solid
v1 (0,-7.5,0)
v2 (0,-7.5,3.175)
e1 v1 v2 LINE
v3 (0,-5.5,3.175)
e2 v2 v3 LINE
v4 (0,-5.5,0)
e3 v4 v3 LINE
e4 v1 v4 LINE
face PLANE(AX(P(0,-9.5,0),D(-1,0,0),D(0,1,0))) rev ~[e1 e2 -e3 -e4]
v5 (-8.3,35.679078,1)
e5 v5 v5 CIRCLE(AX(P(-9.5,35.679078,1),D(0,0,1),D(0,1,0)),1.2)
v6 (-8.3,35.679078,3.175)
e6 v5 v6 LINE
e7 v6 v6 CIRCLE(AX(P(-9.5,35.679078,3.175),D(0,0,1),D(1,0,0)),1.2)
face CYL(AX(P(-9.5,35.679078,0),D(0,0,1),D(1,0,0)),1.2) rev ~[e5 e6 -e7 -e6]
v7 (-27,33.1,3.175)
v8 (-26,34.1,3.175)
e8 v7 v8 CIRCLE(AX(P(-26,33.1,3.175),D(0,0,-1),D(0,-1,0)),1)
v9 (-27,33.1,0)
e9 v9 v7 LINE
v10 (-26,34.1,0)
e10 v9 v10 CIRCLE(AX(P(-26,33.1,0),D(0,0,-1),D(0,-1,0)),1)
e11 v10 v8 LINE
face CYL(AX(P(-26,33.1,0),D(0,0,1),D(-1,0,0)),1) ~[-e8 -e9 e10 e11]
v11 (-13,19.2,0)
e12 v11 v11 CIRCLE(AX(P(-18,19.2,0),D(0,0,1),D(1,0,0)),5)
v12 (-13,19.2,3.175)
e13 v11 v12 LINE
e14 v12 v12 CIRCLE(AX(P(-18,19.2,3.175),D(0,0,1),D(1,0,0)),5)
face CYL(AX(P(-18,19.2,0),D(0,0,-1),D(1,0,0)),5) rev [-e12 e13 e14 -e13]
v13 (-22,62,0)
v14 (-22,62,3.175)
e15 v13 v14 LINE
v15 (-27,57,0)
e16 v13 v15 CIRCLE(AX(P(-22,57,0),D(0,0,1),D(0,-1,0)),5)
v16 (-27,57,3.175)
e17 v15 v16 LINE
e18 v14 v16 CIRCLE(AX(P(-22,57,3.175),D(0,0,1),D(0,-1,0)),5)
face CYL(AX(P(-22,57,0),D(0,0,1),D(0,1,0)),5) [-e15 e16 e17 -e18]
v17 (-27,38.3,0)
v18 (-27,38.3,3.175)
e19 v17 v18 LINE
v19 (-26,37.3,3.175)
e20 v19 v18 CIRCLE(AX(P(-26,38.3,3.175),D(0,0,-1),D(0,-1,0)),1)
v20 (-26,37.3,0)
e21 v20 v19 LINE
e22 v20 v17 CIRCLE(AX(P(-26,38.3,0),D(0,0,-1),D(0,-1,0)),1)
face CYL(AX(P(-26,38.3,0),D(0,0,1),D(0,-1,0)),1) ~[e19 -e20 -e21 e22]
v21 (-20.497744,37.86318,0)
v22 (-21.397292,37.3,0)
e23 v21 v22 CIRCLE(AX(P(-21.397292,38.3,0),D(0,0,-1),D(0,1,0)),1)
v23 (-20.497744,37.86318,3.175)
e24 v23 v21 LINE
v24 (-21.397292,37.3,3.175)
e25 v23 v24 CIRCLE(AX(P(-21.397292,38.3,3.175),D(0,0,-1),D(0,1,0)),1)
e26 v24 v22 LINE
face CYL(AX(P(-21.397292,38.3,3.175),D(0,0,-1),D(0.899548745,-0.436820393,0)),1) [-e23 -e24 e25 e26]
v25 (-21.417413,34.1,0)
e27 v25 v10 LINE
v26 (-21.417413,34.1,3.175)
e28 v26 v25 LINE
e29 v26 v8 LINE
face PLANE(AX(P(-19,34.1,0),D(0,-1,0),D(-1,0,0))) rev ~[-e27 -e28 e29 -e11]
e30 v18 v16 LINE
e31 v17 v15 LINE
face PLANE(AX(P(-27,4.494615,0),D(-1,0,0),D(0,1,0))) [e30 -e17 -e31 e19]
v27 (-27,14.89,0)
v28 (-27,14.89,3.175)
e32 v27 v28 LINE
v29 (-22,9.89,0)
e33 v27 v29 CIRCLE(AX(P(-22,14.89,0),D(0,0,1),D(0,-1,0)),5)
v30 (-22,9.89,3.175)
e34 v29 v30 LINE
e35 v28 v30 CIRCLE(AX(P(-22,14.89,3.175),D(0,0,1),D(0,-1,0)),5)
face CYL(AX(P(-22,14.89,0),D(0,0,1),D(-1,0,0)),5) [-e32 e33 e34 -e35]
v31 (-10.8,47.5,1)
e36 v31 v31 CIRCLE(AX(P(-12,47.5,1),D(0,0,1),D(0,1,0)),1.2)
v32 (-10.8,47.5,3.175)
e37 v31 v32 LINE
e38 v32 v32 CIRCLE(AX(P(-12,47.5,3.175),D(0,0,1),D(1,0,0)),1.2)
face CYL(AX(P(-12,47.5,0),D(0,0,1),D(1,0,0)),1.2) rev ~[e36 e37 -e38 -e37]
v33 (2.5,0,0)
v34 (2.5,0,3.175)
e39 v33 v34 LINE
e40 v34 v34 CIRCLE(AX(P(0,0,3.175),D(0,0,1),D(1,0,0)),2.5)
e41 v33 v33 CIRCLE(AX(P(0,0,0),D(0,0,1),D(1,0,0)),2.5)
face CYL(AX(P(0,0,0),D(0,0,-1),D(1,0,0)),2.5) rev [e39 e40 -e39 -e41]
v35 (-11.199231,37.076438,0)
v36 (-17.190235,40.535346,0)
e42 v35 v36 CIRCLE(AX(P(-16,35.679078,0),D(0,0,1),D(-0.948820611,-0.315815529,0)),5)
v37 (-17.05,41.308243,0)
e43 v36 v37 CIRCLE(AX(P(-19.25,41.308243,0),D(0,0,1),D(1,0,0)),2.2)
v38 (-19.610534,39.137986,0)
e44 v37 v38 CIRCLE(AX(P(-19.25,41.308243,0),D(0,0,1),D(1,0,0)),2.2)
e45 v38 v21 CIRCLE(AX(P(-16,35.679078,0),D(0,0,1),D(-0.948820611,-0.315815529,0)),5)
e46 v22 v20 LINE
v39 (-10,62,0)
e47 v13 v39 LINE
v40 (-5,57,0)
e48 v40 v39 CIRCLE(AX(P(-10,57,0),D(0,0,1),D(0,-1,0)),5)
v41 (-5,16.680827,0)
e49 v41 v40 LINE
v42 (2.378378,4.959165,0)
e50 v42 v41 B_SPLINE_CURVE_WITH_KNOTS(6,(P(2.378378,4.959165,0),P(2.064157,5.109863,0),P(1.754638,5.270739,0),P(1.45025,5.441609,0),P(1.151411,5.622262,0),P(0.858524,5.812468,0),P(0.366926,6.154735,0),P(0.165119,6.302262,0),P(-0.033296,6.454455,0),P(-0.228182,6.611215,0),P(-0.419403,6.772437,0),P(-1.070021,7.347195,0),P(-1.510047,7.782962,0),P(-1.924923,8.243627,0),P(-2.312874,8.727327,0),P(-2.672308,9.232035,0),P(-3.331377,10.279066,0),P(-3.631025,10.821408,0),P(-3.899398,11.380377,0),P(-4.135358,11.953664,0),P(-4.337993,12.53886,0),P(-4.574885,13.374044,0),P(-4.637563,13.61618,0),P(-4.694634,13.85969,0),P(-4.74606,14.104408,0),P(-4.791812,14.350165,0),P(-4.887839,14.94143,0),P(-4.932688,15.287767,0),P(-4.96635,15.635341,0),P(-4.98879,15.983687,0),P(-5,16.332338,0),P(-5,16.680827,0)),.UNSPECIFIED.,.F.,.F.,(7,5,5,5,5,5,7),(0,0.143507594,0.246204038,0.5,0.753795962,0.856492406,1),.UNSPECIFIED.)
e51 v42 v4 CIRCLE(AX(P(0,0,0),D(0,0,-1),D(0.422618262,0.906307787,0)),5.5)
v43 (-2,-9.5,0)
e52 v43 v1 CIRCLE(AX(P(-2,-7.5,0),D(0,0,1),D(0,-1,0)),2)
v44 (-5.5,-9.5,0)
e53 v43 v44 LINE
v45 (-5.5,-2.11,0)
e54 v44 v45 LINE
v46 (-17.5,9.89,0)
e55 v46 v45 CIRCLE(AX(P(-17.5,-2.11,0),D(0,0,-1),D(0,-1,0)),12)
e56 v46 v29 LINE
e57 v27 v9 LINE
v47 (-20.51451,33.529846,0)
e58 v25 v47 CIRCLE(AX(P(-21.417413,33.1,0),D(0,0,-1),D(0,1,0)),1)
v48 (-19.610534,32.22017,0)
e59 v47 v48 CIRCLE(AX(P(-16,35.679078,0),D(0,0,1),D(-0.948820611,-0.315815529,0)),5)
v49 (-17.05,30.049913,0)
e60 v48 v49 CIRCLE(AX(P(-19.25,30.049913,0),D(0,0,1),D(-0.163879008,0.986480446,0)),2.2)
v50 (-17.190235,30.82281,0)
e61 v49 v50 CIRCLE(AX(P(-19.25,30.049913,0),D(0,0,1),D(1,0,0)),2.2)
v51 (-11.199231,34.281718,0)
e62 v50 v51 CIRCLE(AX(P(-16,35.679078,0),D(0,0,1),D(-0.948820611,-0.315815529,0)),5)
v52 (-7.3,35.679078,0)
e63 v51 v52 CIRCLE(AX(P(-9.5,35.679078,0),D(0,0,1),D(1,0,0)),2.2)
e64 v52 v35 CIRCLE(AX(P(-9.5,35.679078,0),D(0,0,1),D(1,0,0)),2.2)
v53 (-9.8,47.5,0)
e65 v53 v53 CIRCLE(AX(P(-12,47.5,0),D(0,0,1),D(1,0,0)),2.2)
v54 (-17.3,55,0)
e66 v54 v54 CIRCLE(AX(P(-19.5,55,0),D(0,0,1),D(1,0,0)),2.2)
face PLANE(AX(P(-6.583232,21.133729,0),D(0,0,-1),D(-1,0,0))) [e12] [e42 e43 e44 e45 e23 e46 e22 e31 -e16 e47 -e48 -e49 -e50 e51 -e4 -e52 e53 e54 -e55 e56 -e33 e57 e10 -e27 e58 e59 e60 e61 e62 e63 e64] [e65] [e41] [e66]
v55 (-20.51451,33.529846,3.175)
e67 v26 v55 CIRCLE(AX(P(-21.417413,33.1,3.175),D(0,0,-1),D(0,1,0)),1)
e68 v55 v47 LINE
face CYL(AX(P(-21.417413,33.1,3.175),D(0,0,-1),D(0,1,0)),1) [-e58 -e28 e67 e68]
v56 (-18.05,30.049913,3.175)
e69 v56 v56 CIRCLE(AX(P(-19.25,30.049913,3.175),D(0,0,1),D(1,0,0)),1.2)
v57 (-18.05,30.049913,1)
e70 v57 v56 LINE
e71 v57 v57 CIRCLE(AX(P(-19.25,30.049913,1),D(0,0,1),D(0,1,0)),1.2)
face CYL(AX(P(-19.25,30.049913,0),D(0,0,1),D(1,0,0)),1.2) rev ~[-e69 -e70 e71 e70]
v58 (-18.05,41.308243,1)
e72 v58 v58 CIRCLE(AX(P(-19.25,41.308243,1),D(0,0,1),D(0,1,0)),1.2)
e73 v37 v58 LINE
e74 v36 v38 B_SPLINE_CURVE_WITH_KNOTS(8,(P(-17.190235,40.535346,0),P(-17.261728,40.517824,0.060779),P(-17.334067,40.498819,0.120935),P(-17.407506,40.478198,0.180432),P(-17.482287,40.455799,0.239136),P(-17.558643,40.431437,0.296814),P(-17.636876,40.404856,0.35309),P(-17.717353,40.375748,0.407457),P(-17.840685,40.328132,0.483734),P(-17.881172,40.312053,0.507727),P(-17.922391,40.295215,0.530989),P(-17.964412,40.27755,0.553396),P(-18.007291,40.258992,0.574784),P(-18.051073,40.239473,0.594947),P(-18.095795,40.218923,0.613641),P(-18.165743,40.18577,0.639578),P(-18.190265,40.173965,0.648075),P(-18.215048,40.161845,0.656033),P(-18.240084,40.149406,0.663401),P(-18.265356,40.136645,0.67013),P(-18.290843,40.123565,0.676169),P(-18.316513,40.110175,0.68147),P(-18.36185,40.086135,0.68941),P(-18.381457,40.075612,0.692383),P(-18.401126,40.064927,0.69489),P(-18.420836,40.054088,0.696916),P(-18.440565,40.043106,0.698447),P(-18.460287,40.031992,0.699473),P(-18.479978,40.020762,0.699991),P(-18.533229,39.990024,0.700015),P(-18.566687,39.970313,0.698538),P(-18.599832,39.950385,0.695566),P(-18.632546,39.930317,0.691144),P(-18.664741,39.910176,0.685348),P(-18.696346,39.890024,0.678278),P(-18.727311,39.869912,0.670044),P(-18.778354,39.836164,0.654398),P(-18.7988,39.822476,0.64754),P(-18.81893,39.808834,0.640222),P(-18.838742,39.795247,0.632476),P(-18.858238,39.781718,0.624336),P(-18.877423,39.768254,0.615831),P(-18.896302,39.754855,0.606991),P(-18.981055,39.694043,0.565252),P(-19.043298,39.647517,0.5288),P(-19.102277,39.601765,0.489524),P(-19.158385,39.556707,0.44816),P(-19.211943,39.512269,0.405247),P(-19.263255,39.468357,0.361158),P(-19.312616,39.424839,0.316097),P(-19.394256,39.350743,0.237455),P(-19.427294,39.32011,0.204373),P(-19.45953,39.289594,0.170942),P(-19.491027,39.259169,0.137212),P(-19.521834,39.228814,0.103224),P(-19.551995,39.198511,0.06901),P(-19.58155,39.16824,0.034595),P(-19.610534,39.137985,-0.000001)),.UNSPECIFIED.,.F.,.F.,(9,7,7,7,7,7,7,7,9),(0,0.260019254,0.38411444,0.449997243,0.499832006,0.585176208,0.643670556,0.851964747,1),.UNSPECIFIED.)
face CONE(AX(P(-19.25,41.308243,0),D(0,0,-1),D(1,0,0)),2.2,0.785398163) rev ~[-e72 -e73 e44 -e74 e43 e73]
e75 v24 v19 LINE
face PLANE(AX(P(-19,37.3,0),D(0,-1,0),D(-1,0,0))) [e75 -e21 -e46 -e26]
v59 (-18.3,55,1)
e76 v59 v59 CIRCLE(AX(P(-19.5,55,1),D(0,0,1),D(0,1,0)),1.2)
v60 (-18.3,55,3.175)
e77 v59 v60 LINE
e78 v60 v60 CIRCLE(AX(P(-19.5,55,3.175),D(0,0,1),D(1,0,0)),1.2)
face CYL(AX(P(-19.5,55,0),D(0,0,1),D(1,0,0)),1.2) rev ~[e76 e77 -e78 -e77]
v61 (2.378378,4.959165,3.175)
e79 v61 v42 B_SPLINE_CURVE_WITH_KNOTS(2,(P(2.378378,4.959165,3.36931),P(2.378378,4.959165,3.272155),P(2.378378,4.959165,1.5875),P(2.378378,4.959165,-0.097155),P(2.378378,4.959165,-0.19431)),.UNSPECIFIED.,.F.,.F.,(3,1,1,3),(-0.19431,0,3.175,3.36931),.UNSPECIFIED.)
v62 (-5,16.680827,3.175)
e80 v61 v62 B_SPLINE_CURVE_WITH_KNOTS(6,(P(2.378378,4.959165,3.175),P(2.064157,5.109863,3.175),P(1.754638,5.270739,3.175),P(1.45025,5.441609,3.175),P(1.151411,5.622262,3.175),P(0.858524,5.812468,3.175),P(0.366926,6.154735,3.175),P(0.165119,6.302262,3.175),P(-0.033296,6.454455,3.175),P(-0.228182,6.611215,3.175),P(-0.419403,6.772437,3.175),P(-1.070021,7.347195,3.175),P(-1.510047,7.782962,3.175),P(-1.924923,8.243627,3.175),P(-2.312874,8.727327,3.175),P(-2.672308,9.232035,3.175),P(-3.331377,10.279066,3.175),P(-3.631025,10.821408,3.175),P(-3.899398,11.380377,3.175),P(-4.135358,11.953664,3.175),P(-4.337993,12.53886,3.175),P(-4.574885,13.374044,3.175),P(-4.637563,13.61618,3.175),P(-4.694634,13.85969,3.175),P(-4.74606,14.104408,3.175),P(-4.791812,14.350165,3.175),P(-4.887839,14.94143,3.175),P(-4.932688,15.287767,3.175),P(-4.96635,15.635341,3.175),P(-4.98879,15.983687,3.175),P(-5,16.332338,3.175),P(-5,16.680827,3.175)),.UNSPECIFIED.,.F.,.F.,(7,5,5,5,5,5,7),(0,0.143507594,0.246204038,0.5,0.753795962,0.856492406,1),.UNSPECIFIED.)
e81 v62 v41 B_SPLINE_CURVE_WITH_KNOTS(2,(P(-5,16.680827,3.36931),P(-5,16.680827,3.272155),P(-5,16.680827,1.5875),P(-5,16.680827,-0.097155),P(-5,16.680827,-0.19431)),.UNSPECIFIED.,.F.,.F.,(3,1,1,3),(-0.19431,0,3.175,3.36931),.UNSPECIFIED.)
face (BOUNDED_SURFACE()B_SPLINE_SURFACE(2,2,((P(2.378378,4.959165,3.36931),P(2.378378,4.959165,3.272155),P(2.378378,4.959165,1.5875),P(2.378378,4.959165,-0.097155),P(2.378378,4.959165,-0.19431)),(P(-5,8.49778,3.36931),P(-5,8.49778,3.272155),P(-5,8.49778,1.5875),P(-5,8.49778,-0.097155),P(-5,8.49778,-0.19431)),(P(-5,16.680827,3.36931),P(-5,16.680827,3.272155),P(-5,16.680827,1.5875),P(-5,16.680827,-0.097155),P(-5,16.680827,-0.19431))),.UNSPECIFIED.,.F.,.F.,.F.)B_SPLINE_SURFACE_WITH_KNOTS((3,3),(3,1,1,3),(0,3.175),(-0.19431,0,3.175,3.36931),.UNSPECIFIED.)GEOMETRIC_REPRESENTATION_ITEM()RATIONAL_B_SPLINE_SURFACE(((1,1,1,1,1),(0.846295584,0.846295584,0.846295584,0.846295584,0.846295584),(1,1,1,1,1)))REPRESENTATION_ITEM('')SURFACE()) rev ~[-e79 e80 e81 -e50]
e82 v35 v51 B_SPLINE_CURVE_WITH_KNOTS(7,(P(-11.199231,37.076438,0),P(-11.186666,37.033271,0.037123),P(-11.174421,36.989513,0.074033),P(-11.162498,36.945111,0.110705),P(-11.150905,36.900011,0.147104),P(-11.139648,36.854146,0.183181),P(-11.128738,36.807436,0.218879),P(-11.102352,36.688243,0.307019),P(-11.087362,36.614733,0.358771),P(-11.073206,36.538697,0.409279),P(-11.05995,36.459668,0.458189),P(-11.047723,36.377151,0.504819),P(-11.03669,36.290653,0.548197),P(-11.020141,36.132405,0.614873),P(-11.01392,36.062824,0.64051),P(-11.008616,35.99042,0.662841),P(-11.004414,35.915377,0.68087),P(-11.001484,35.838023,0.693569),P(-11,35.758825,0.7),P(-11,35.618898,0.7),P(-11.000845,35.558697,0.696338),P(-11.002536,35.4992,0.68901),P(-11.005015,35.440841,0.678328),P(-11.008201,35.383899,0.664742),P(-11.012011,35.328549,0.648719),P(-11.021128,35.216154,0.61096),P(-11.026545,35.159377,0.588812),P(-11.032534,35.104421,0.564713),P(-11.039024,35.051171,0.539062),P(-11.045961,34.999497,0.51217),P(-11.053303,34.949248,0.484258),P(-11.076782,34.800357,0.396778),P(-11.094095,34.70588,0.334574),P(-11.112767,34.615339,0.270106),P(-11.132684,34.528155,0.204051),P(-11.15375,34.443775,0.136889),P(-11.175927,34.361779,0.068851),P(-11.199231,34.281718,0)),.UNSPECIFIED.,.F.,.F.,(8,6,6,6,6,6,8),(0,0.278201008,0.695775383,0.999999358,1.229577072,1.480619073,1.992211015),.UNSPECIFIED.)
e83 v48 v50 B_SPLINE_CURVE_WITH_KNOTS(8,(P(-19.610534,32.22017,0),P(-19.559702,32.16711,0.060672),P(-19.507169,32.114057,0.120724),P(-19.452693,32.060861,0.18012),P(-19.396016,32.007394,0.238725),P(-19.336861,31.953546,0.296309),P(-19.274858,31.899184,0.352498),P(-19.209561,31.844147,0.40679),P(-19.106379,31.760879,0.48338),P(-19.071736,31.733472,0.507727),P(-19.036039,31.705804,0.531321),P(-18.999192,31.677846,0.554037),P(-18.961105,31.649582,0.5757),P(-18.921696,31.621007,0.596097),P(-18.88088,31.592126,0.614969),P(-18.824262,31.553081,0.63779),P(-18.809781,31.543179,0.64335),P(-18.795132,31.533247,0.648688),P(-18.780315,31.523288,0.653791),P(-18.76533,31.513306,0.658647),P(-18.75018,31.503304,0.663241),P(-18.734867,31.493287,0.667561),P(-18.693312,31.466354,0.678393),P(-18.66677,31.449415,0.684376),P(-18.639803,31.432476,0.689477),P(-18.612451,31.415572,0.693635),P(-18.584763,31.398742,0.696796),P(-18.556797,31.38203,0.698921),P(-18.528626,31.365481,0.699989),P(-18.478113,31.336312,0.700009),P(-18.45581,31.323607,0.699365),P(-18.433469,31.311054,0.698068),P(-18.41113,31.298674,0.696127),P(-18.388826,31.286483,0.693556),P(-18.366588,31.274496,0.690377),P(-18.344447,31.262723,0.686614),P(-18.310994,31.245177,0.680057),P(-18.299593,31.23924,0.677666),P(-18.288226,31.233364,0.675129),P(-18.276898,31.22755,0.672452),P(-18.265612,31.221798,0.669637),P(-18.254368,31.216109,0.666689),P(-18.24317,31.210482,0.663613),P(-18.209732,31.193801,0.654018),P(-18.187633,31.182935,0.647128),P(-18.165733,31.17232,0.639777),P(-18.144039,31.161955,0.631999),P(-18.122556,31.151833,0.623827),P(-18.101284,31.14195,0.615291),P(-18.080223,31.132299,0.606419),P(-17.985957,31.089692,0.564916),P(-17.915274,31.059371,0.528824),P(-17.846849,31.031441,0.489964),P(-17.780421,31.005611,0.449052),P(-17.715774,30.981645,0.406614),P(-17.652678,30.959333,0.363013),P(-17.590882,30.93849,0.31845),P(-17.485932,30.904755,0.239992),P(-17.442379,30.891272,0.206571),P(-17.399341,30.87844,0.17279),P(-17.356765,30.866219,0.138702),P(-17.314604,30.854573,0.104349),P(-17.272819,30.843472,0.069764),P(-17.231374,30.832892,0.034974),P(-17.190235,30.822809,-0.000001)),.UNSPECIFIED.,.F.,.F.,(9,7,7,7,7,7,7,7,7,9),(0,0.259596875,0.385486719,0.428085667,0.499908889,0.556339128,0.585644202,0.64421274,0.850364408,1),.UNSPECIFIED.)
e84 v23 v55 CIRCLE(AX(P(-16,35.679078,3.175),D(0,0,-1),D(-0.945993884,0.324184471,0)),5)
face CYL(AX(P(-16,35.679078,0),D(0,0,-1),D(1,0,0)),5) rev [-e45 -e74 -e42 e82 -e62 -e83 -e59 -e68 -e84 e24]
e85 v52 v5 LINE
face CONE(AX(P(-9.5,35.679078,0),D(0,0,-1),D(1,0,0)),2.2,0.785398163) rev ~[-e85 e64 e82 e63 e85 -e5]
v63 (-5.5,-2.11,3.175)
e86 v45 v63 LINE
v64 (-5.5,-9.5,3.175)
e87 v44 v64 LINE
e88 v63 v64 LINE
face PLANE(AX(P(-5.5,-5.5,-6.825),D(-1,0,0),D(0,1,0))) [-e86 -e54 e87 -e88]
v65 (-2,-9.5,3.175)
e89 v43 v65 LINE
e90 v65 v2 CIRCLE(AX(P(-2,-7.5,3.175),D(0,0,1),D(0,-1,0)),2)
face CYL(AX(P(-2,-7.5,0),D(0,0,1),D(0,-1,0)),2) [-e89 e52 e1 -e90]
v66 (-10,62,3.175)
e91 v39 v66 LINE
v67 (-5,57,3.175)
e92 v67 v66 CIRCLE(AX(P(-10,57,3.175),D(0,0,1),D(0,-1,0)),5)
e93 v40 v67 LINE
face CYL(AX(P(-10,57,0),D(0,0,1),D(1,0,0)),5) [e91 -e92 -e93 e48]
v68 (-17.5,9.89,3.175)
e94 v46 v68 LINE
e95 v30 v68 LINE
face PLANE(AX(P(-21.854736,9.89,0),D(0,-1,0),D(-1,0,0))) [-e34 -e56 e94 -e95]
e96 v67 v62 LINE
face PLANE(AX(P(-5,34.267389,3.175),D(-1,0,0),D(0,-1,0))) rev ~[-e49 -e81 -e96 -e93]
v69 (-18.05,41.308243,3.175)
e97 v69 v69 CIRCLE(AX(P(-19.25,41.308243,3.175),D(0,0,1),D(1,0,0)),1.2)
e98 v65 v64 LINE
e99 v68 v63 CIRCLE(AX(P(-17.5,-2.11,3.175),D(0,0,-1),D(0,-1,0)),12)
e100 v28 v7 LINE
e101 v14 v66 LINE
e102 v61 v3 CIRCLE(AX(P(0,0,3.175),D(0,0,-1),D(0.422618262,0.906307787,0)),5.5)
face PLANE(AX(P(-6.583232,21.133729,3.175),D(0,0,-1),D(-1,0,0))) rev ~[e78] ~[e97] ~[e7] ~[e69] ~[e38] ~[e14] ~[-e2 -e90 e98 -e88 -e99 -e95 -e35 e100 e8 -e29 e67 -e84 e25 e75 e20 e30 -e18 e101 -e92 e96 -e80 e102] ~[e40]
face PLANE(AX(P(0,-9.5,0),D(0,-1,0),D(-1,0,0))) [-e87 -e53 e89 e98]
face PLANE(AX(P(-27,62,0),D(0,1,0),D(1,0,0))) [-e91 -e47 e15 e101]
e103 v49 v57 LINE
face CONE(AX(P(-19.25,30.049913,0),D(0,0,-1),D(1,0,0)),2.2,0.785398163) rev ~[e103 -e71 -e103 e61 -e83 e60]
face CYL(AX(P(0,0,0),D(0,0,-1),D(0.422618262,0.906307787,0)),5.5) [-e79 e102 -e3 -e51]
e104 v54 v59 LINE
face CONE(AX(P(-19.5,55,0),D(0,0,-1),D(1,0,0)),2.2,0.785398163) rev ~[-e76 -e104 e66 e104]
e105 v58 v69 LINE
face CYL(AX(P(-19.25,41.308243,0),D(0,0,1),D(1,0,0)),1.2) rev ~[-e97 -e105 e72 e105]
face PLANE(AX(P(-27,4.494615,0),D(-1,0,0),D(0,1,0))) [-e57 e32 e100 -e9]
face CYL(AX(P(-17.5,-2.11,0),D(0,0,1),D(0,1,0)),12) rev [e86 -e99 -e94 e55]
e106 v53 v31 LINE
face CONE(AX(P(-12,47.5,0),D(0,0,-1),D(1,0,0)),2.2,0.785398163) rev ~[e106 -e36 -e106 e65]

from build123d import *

# Parameters (mm, degrees)
SKETCH1_R                                       = 2.5
SKETCH1_R_2                                     = 5
SKETCH1_R_3                                     = 1
BOSS_EXTRUDE1_DEPTH                             = 3.175
CSK_FOR_M2_FLAT_HEAD_MACHINE_SCREW1_D           = 2.4
CSK_FOR_M2_FLAT_HEAD_MACHINE_SCREW1_CSINK_D     = 4.4
CSK_FOR_M2_FLAT_HEAD_MACHINE_SCREW1_CSINK_ANGLE = 90
SKETCH6_W                                       = 8
SKETCH6_H                                       = 3.2
MOTORSHAFTCUTOUT_DEPTH                          = 68.698453638
F_5MM_FILLET_R                                  = 5
F_1MM_FILLET_R                                  = 1
CUT_EXTRUDE1_DEPTH                              = 68.698453638
FILLET1_R                                       = 5
SKETCH8_W                                       = 5.5
SKETCH8_H                                       = 4
BOSS_EXTRUDE2_DEPTH                             = 3.175
BOSS_EXTRUDE3_DEPTH                             = 3.175
CUT_EXTRUDE3_DEPTH                              = 68.698453638
CUT_EXTRUDE3_DEPTH_BACK                         = 10
FILLET3_R                                       = 12
FILLET4_R                                       = 2
FILLET6_R                                       = 13
CSK_FOR_M2_FLAT_HEAD_MACHINE_SCREW3_D           = 2.4
CSK_FOR_M2_FLAT_HEAD_MACHINE_SCREW3_CSINK_D     = 4.4
CSK_FOR_M2_FLAT_HEAD_MACHINE_SCREW3_CSINK_ANGLE = 90


with BuildPart() as part:
    # Sketch1 → Boss-Extrude1 (new body)
    with BuildSketch(Plane.XY):
        with BuildLine():
            Line((0, -5.5), (-7, -5.5))
            Line((-7, -5.5), (-7, -9))
            Line((-7, -9), (-12, -9))
            Line((-12, -9), (-12, -2.5))
            Line((-12, -2.5), (-27, 4.494614872))
            Line((-27, 4.494614872), (-27, 62))
            Line((-27, 62), (-5, 62))
            Line((-5, 62), (-5, 32.19632141))
            Line((-5, 32.19632141), (-9, 28.19632141))
            Line((-9, 28.19632141), (-9, 10.265347478))
            Line((-9, 10.265347478), (2.32440044, 4.984692829))
            ThreePointArc((2.32440044, 4.984692829), (5.369628039, -1.190417877), (0, -5.5))
        make_face()
        Circle(SKETCH1_R, mode=Mode.SUBTRACT)
        with Locations((-18, 19.2)):
            Circle(SKETCH1_R_2, mode=Mode.SUBTRACT)
        with Locations((-16, 35.679077644)):
            Circle(SKETCH1_R_2, mode=Mode.SUBTRACT)
        with Locations((-9.5, 35.679077644)):
            Circle(SKETCH1_R_3, mode=Mode.SUBTRACT)
        with Locations((-19.25, 30.049912519)):
            Circle(SKETCH1_R_3, mode=Mode.SUBTRACT)
        with Locations((-19.25, 41.308242769)):
            Circle(SKETCH1_R_3, mode=Mode.SUBTRACT)
    extrude(amount=BOSS_EXTRUDE1_DEPTH)

    # CSK for M2 Flat Head Machine Screw1 (through all)
    with Locations(Plane(origin=(0, 0, 0), x_dir=(-1, 0, 0), z_dir=(0, 0, -1))):
        with Locations((19.5, 55), (12, 47.5)):
            CounterSinkHole(CSK_FOR_M2_FLAT_HEAD_MACHINE_SCREW1_D / 2, CSK_FOR_M2_FLAT_HEAD_MACHINE_SCREW1_CSINK_D / 2, counter_sink_angle=CSK_FOR_M2_FLAT_HEAD_MACHINE_SCREW1_CSINK_ANGLE)

    # Sketch6 → MotorShaftCutOut (cut, through all)
    with BuildSketch(Plane(origin=(0, 0, 0), x_dir=(-1, 0, 0), z_dir=(0, 0, -1))):
        with Locations((23, 35.7)):
            Rectangle(SKETCH6_W, SKETCH6_H)
    extrude(amount=-MOTORSHAFTCUTOUT_DEPTH, mode=Mode.SUBTRACT)

    # 5mm_Fillet
    f_5mm_fillet_edges = [part.edges().sort_by_distance(p)[0] for p in [
        (-12, -2.5, 1.5875),
        (-27, 4.494614872, 1.5875),
        (-27, 62, 1.5875),
        (-5, 62, 1.5875),
        (-5, 32.19632141, 1.5875),
        (-9, 28.19632141, 1.5875),
        (-9, 10.265347478, 1.5875),
    ]]
    fillet(f_5mm_fillet_edges, radius=F_5MM_FILLET_R)

    # 1mm_Fillet
    f_1mm_fillet_edges = [part.edges().sort_by_distance(p)[0] for p in [
        (-7, -5.5, 1.5875),
        (-7, -9, 1.5875),
        (-20.744103055, 34.1, 1.5875),
        (-20.72996942, 37.3, 1.5875),
        (-27, 34.1, 1.5875),
        (-27, 37.3, 1.5875),
    ]]
    fillet(f_1mm_fillet_edges, radius=F_1MM_FILLET_R)

    # Sketch7 → Cut-Extrude1 (cut, through all)
    with BuildSketch(Plane(origin=(0, 0, 0), x_dir=(-1, 0, 0), z_dir=(0, 0, -1))):
        with BuildLine():
            Line((12.047193362, -5), (17.277217948, 6.901547918))
            ThreePointArc((17.277217948, 6.901547918), (19.121399551, 9.076749311), (21.854736378, 9.89))
            Line((21.854736378, 9.89), (27, 9.89))
            Line((27, 9.89), (27, -5))
            Line((27, -5), (12.047193362, -5))
        make_face()
    extrude(amount=-CUT_EXTRUDE1_DEPTH, mode=Mode.SUBTRACT)

    # Fillet1
    fillet1_edges = [part.edges().sort_by_distance(p)[0] for p in [
        (-27, 9.89, 1.5875),
    ]]
    fillet(fillet1_edges, radius=FILLET1_R)

    # Sketch8 → Boss-Extrude2 (add)
    with BuildSketch(Plane(origin=(0, 0, 0), x_dir=(-1, 0, 0), z_dir=(0, 0, -1))):
        with Locations((2.75, -7.5)):
            Rectangle(SKETCH8_W, SKETCH8_H)
    extrude(amount=-BOSS_EXTRUDE2_DEPTH)

    # Sketch9 → Boss-Extrude3 (add)
    with BuildSketch(Plane.XY.offset(3.175)):
        with BuildLine():
            Line((-5, 34.267389222), (-5, 8.400116845))
            Line((-5, 8.400116845), (-6.113091309, 8.919159847))
            ThreePointArc((-6.113091309, 8.919159847), (-8.216957229, 10.76420074), (-9, 13.450698782))
            Line((-9, 13.450698782), (-9, 26.125253598))
            ThreePointArc((-9, 26.125253598), (-8.619397663, 28.03867076), (-7.535533906, 29.660787504))
            Line((-7.535533906, 29.660787504), (-6.464466094, 30.731855316))
            ThreePointArc((-6.464466094, 30.731855316), (-5.380602337, 32.35397206), (-5, 34.267389222))
        make_face()
    extrude(amount=-BOSS_EXTRUDE3_DEPTH)

    # Sketch10 → Cut-Extrude3 (cut, two sides: drawn at the far end of the back side and taken through both)
    with BuildSketch(Plane.XY.offset(3.175).offset(-CUT_EXTRUDE3_DEPTH_BACK)):
        with BuildLine():
            Line((-5.5, 9.89), (-21.854736378, 9.89))
            ThreePointArc((-21.854736378, 9.89), (-19.121399551, 9.076749311), (-17.277217948, 6.901547918))
            Line((-17.277217948, 6.901547918), (-13.145595024, -2.500455344))
            ThreePointArc((-13.145595024, -2.500455344), (-12.327289124, -3.906089359), (-12.003436692, -5.5))
            Line((-12.003436692, -5.5), (-6, -5.5))
            Line((-6, -5.5), (-5.5, -5.5))
            Line((-5.5, -5.5), (-5.5, 9.89))
        make_face()
    extrude(amount=CUT_EXTRUDE3_DEPTH + CUT_EXTRUDE3_DEPTH_BACK, mode=Mode.SUBTRACT)


with BuildPart() as body_2:
    # of the pieces the cut leaves, the one that is kept (cut_extrude3_keep)
    add(part.part.solids().sort_by_distance((-22, 9.89, 3.175))[0])

    # Fillet3
    fillet3_edges = [body_2.edges().sort_by_distance(p)[0] for p in [
        (-5.5, 9.89, 1.5875),
    ]]
    fillet(fillet3_edges, radius=FILLET3_R)

    # Fillet4
    fillet4_edges = [body_2.edges().sort_by_distance(p)[0] for p in [
        (0, -9.5, 1.5875),
    ]]
    fillet(fillet4_edges, radius=FILLET4_R)

    # Fillet6
    fillet6_edges = [body_2.edges().sort_by_distance(p)[0] for p in [
        (-5, 8.400116845, 1.5875),
    ]]
    fillet(fillet6_edges, radius=FILLET6_R)

    # CSK for M2 Flat Head Machine Screw3 (through all)
    with Locations(Plane(origin=(0, 0, 0), x_dir=(-1, 0, 0), z_dir=(0, 0, -1))):
        with Locations((19.25, 41.308242769), (9.5, 35.679077644), (19.25, 30.049912519)):
            CounterSinkHole(CSK_FOR_M2_FLAT_HEAD_MACHINE_SCREW3_D / 2, CSK_FOR_M2_FLAT_HEAD_MACHINE_SCREW3_CSINK_D / 2, counter_sink_angle=CSK_FOR_M2_FLAT_HEAD_MACHINE_SCREW3_CSINK_ANGLE)


solid = body_2.part
